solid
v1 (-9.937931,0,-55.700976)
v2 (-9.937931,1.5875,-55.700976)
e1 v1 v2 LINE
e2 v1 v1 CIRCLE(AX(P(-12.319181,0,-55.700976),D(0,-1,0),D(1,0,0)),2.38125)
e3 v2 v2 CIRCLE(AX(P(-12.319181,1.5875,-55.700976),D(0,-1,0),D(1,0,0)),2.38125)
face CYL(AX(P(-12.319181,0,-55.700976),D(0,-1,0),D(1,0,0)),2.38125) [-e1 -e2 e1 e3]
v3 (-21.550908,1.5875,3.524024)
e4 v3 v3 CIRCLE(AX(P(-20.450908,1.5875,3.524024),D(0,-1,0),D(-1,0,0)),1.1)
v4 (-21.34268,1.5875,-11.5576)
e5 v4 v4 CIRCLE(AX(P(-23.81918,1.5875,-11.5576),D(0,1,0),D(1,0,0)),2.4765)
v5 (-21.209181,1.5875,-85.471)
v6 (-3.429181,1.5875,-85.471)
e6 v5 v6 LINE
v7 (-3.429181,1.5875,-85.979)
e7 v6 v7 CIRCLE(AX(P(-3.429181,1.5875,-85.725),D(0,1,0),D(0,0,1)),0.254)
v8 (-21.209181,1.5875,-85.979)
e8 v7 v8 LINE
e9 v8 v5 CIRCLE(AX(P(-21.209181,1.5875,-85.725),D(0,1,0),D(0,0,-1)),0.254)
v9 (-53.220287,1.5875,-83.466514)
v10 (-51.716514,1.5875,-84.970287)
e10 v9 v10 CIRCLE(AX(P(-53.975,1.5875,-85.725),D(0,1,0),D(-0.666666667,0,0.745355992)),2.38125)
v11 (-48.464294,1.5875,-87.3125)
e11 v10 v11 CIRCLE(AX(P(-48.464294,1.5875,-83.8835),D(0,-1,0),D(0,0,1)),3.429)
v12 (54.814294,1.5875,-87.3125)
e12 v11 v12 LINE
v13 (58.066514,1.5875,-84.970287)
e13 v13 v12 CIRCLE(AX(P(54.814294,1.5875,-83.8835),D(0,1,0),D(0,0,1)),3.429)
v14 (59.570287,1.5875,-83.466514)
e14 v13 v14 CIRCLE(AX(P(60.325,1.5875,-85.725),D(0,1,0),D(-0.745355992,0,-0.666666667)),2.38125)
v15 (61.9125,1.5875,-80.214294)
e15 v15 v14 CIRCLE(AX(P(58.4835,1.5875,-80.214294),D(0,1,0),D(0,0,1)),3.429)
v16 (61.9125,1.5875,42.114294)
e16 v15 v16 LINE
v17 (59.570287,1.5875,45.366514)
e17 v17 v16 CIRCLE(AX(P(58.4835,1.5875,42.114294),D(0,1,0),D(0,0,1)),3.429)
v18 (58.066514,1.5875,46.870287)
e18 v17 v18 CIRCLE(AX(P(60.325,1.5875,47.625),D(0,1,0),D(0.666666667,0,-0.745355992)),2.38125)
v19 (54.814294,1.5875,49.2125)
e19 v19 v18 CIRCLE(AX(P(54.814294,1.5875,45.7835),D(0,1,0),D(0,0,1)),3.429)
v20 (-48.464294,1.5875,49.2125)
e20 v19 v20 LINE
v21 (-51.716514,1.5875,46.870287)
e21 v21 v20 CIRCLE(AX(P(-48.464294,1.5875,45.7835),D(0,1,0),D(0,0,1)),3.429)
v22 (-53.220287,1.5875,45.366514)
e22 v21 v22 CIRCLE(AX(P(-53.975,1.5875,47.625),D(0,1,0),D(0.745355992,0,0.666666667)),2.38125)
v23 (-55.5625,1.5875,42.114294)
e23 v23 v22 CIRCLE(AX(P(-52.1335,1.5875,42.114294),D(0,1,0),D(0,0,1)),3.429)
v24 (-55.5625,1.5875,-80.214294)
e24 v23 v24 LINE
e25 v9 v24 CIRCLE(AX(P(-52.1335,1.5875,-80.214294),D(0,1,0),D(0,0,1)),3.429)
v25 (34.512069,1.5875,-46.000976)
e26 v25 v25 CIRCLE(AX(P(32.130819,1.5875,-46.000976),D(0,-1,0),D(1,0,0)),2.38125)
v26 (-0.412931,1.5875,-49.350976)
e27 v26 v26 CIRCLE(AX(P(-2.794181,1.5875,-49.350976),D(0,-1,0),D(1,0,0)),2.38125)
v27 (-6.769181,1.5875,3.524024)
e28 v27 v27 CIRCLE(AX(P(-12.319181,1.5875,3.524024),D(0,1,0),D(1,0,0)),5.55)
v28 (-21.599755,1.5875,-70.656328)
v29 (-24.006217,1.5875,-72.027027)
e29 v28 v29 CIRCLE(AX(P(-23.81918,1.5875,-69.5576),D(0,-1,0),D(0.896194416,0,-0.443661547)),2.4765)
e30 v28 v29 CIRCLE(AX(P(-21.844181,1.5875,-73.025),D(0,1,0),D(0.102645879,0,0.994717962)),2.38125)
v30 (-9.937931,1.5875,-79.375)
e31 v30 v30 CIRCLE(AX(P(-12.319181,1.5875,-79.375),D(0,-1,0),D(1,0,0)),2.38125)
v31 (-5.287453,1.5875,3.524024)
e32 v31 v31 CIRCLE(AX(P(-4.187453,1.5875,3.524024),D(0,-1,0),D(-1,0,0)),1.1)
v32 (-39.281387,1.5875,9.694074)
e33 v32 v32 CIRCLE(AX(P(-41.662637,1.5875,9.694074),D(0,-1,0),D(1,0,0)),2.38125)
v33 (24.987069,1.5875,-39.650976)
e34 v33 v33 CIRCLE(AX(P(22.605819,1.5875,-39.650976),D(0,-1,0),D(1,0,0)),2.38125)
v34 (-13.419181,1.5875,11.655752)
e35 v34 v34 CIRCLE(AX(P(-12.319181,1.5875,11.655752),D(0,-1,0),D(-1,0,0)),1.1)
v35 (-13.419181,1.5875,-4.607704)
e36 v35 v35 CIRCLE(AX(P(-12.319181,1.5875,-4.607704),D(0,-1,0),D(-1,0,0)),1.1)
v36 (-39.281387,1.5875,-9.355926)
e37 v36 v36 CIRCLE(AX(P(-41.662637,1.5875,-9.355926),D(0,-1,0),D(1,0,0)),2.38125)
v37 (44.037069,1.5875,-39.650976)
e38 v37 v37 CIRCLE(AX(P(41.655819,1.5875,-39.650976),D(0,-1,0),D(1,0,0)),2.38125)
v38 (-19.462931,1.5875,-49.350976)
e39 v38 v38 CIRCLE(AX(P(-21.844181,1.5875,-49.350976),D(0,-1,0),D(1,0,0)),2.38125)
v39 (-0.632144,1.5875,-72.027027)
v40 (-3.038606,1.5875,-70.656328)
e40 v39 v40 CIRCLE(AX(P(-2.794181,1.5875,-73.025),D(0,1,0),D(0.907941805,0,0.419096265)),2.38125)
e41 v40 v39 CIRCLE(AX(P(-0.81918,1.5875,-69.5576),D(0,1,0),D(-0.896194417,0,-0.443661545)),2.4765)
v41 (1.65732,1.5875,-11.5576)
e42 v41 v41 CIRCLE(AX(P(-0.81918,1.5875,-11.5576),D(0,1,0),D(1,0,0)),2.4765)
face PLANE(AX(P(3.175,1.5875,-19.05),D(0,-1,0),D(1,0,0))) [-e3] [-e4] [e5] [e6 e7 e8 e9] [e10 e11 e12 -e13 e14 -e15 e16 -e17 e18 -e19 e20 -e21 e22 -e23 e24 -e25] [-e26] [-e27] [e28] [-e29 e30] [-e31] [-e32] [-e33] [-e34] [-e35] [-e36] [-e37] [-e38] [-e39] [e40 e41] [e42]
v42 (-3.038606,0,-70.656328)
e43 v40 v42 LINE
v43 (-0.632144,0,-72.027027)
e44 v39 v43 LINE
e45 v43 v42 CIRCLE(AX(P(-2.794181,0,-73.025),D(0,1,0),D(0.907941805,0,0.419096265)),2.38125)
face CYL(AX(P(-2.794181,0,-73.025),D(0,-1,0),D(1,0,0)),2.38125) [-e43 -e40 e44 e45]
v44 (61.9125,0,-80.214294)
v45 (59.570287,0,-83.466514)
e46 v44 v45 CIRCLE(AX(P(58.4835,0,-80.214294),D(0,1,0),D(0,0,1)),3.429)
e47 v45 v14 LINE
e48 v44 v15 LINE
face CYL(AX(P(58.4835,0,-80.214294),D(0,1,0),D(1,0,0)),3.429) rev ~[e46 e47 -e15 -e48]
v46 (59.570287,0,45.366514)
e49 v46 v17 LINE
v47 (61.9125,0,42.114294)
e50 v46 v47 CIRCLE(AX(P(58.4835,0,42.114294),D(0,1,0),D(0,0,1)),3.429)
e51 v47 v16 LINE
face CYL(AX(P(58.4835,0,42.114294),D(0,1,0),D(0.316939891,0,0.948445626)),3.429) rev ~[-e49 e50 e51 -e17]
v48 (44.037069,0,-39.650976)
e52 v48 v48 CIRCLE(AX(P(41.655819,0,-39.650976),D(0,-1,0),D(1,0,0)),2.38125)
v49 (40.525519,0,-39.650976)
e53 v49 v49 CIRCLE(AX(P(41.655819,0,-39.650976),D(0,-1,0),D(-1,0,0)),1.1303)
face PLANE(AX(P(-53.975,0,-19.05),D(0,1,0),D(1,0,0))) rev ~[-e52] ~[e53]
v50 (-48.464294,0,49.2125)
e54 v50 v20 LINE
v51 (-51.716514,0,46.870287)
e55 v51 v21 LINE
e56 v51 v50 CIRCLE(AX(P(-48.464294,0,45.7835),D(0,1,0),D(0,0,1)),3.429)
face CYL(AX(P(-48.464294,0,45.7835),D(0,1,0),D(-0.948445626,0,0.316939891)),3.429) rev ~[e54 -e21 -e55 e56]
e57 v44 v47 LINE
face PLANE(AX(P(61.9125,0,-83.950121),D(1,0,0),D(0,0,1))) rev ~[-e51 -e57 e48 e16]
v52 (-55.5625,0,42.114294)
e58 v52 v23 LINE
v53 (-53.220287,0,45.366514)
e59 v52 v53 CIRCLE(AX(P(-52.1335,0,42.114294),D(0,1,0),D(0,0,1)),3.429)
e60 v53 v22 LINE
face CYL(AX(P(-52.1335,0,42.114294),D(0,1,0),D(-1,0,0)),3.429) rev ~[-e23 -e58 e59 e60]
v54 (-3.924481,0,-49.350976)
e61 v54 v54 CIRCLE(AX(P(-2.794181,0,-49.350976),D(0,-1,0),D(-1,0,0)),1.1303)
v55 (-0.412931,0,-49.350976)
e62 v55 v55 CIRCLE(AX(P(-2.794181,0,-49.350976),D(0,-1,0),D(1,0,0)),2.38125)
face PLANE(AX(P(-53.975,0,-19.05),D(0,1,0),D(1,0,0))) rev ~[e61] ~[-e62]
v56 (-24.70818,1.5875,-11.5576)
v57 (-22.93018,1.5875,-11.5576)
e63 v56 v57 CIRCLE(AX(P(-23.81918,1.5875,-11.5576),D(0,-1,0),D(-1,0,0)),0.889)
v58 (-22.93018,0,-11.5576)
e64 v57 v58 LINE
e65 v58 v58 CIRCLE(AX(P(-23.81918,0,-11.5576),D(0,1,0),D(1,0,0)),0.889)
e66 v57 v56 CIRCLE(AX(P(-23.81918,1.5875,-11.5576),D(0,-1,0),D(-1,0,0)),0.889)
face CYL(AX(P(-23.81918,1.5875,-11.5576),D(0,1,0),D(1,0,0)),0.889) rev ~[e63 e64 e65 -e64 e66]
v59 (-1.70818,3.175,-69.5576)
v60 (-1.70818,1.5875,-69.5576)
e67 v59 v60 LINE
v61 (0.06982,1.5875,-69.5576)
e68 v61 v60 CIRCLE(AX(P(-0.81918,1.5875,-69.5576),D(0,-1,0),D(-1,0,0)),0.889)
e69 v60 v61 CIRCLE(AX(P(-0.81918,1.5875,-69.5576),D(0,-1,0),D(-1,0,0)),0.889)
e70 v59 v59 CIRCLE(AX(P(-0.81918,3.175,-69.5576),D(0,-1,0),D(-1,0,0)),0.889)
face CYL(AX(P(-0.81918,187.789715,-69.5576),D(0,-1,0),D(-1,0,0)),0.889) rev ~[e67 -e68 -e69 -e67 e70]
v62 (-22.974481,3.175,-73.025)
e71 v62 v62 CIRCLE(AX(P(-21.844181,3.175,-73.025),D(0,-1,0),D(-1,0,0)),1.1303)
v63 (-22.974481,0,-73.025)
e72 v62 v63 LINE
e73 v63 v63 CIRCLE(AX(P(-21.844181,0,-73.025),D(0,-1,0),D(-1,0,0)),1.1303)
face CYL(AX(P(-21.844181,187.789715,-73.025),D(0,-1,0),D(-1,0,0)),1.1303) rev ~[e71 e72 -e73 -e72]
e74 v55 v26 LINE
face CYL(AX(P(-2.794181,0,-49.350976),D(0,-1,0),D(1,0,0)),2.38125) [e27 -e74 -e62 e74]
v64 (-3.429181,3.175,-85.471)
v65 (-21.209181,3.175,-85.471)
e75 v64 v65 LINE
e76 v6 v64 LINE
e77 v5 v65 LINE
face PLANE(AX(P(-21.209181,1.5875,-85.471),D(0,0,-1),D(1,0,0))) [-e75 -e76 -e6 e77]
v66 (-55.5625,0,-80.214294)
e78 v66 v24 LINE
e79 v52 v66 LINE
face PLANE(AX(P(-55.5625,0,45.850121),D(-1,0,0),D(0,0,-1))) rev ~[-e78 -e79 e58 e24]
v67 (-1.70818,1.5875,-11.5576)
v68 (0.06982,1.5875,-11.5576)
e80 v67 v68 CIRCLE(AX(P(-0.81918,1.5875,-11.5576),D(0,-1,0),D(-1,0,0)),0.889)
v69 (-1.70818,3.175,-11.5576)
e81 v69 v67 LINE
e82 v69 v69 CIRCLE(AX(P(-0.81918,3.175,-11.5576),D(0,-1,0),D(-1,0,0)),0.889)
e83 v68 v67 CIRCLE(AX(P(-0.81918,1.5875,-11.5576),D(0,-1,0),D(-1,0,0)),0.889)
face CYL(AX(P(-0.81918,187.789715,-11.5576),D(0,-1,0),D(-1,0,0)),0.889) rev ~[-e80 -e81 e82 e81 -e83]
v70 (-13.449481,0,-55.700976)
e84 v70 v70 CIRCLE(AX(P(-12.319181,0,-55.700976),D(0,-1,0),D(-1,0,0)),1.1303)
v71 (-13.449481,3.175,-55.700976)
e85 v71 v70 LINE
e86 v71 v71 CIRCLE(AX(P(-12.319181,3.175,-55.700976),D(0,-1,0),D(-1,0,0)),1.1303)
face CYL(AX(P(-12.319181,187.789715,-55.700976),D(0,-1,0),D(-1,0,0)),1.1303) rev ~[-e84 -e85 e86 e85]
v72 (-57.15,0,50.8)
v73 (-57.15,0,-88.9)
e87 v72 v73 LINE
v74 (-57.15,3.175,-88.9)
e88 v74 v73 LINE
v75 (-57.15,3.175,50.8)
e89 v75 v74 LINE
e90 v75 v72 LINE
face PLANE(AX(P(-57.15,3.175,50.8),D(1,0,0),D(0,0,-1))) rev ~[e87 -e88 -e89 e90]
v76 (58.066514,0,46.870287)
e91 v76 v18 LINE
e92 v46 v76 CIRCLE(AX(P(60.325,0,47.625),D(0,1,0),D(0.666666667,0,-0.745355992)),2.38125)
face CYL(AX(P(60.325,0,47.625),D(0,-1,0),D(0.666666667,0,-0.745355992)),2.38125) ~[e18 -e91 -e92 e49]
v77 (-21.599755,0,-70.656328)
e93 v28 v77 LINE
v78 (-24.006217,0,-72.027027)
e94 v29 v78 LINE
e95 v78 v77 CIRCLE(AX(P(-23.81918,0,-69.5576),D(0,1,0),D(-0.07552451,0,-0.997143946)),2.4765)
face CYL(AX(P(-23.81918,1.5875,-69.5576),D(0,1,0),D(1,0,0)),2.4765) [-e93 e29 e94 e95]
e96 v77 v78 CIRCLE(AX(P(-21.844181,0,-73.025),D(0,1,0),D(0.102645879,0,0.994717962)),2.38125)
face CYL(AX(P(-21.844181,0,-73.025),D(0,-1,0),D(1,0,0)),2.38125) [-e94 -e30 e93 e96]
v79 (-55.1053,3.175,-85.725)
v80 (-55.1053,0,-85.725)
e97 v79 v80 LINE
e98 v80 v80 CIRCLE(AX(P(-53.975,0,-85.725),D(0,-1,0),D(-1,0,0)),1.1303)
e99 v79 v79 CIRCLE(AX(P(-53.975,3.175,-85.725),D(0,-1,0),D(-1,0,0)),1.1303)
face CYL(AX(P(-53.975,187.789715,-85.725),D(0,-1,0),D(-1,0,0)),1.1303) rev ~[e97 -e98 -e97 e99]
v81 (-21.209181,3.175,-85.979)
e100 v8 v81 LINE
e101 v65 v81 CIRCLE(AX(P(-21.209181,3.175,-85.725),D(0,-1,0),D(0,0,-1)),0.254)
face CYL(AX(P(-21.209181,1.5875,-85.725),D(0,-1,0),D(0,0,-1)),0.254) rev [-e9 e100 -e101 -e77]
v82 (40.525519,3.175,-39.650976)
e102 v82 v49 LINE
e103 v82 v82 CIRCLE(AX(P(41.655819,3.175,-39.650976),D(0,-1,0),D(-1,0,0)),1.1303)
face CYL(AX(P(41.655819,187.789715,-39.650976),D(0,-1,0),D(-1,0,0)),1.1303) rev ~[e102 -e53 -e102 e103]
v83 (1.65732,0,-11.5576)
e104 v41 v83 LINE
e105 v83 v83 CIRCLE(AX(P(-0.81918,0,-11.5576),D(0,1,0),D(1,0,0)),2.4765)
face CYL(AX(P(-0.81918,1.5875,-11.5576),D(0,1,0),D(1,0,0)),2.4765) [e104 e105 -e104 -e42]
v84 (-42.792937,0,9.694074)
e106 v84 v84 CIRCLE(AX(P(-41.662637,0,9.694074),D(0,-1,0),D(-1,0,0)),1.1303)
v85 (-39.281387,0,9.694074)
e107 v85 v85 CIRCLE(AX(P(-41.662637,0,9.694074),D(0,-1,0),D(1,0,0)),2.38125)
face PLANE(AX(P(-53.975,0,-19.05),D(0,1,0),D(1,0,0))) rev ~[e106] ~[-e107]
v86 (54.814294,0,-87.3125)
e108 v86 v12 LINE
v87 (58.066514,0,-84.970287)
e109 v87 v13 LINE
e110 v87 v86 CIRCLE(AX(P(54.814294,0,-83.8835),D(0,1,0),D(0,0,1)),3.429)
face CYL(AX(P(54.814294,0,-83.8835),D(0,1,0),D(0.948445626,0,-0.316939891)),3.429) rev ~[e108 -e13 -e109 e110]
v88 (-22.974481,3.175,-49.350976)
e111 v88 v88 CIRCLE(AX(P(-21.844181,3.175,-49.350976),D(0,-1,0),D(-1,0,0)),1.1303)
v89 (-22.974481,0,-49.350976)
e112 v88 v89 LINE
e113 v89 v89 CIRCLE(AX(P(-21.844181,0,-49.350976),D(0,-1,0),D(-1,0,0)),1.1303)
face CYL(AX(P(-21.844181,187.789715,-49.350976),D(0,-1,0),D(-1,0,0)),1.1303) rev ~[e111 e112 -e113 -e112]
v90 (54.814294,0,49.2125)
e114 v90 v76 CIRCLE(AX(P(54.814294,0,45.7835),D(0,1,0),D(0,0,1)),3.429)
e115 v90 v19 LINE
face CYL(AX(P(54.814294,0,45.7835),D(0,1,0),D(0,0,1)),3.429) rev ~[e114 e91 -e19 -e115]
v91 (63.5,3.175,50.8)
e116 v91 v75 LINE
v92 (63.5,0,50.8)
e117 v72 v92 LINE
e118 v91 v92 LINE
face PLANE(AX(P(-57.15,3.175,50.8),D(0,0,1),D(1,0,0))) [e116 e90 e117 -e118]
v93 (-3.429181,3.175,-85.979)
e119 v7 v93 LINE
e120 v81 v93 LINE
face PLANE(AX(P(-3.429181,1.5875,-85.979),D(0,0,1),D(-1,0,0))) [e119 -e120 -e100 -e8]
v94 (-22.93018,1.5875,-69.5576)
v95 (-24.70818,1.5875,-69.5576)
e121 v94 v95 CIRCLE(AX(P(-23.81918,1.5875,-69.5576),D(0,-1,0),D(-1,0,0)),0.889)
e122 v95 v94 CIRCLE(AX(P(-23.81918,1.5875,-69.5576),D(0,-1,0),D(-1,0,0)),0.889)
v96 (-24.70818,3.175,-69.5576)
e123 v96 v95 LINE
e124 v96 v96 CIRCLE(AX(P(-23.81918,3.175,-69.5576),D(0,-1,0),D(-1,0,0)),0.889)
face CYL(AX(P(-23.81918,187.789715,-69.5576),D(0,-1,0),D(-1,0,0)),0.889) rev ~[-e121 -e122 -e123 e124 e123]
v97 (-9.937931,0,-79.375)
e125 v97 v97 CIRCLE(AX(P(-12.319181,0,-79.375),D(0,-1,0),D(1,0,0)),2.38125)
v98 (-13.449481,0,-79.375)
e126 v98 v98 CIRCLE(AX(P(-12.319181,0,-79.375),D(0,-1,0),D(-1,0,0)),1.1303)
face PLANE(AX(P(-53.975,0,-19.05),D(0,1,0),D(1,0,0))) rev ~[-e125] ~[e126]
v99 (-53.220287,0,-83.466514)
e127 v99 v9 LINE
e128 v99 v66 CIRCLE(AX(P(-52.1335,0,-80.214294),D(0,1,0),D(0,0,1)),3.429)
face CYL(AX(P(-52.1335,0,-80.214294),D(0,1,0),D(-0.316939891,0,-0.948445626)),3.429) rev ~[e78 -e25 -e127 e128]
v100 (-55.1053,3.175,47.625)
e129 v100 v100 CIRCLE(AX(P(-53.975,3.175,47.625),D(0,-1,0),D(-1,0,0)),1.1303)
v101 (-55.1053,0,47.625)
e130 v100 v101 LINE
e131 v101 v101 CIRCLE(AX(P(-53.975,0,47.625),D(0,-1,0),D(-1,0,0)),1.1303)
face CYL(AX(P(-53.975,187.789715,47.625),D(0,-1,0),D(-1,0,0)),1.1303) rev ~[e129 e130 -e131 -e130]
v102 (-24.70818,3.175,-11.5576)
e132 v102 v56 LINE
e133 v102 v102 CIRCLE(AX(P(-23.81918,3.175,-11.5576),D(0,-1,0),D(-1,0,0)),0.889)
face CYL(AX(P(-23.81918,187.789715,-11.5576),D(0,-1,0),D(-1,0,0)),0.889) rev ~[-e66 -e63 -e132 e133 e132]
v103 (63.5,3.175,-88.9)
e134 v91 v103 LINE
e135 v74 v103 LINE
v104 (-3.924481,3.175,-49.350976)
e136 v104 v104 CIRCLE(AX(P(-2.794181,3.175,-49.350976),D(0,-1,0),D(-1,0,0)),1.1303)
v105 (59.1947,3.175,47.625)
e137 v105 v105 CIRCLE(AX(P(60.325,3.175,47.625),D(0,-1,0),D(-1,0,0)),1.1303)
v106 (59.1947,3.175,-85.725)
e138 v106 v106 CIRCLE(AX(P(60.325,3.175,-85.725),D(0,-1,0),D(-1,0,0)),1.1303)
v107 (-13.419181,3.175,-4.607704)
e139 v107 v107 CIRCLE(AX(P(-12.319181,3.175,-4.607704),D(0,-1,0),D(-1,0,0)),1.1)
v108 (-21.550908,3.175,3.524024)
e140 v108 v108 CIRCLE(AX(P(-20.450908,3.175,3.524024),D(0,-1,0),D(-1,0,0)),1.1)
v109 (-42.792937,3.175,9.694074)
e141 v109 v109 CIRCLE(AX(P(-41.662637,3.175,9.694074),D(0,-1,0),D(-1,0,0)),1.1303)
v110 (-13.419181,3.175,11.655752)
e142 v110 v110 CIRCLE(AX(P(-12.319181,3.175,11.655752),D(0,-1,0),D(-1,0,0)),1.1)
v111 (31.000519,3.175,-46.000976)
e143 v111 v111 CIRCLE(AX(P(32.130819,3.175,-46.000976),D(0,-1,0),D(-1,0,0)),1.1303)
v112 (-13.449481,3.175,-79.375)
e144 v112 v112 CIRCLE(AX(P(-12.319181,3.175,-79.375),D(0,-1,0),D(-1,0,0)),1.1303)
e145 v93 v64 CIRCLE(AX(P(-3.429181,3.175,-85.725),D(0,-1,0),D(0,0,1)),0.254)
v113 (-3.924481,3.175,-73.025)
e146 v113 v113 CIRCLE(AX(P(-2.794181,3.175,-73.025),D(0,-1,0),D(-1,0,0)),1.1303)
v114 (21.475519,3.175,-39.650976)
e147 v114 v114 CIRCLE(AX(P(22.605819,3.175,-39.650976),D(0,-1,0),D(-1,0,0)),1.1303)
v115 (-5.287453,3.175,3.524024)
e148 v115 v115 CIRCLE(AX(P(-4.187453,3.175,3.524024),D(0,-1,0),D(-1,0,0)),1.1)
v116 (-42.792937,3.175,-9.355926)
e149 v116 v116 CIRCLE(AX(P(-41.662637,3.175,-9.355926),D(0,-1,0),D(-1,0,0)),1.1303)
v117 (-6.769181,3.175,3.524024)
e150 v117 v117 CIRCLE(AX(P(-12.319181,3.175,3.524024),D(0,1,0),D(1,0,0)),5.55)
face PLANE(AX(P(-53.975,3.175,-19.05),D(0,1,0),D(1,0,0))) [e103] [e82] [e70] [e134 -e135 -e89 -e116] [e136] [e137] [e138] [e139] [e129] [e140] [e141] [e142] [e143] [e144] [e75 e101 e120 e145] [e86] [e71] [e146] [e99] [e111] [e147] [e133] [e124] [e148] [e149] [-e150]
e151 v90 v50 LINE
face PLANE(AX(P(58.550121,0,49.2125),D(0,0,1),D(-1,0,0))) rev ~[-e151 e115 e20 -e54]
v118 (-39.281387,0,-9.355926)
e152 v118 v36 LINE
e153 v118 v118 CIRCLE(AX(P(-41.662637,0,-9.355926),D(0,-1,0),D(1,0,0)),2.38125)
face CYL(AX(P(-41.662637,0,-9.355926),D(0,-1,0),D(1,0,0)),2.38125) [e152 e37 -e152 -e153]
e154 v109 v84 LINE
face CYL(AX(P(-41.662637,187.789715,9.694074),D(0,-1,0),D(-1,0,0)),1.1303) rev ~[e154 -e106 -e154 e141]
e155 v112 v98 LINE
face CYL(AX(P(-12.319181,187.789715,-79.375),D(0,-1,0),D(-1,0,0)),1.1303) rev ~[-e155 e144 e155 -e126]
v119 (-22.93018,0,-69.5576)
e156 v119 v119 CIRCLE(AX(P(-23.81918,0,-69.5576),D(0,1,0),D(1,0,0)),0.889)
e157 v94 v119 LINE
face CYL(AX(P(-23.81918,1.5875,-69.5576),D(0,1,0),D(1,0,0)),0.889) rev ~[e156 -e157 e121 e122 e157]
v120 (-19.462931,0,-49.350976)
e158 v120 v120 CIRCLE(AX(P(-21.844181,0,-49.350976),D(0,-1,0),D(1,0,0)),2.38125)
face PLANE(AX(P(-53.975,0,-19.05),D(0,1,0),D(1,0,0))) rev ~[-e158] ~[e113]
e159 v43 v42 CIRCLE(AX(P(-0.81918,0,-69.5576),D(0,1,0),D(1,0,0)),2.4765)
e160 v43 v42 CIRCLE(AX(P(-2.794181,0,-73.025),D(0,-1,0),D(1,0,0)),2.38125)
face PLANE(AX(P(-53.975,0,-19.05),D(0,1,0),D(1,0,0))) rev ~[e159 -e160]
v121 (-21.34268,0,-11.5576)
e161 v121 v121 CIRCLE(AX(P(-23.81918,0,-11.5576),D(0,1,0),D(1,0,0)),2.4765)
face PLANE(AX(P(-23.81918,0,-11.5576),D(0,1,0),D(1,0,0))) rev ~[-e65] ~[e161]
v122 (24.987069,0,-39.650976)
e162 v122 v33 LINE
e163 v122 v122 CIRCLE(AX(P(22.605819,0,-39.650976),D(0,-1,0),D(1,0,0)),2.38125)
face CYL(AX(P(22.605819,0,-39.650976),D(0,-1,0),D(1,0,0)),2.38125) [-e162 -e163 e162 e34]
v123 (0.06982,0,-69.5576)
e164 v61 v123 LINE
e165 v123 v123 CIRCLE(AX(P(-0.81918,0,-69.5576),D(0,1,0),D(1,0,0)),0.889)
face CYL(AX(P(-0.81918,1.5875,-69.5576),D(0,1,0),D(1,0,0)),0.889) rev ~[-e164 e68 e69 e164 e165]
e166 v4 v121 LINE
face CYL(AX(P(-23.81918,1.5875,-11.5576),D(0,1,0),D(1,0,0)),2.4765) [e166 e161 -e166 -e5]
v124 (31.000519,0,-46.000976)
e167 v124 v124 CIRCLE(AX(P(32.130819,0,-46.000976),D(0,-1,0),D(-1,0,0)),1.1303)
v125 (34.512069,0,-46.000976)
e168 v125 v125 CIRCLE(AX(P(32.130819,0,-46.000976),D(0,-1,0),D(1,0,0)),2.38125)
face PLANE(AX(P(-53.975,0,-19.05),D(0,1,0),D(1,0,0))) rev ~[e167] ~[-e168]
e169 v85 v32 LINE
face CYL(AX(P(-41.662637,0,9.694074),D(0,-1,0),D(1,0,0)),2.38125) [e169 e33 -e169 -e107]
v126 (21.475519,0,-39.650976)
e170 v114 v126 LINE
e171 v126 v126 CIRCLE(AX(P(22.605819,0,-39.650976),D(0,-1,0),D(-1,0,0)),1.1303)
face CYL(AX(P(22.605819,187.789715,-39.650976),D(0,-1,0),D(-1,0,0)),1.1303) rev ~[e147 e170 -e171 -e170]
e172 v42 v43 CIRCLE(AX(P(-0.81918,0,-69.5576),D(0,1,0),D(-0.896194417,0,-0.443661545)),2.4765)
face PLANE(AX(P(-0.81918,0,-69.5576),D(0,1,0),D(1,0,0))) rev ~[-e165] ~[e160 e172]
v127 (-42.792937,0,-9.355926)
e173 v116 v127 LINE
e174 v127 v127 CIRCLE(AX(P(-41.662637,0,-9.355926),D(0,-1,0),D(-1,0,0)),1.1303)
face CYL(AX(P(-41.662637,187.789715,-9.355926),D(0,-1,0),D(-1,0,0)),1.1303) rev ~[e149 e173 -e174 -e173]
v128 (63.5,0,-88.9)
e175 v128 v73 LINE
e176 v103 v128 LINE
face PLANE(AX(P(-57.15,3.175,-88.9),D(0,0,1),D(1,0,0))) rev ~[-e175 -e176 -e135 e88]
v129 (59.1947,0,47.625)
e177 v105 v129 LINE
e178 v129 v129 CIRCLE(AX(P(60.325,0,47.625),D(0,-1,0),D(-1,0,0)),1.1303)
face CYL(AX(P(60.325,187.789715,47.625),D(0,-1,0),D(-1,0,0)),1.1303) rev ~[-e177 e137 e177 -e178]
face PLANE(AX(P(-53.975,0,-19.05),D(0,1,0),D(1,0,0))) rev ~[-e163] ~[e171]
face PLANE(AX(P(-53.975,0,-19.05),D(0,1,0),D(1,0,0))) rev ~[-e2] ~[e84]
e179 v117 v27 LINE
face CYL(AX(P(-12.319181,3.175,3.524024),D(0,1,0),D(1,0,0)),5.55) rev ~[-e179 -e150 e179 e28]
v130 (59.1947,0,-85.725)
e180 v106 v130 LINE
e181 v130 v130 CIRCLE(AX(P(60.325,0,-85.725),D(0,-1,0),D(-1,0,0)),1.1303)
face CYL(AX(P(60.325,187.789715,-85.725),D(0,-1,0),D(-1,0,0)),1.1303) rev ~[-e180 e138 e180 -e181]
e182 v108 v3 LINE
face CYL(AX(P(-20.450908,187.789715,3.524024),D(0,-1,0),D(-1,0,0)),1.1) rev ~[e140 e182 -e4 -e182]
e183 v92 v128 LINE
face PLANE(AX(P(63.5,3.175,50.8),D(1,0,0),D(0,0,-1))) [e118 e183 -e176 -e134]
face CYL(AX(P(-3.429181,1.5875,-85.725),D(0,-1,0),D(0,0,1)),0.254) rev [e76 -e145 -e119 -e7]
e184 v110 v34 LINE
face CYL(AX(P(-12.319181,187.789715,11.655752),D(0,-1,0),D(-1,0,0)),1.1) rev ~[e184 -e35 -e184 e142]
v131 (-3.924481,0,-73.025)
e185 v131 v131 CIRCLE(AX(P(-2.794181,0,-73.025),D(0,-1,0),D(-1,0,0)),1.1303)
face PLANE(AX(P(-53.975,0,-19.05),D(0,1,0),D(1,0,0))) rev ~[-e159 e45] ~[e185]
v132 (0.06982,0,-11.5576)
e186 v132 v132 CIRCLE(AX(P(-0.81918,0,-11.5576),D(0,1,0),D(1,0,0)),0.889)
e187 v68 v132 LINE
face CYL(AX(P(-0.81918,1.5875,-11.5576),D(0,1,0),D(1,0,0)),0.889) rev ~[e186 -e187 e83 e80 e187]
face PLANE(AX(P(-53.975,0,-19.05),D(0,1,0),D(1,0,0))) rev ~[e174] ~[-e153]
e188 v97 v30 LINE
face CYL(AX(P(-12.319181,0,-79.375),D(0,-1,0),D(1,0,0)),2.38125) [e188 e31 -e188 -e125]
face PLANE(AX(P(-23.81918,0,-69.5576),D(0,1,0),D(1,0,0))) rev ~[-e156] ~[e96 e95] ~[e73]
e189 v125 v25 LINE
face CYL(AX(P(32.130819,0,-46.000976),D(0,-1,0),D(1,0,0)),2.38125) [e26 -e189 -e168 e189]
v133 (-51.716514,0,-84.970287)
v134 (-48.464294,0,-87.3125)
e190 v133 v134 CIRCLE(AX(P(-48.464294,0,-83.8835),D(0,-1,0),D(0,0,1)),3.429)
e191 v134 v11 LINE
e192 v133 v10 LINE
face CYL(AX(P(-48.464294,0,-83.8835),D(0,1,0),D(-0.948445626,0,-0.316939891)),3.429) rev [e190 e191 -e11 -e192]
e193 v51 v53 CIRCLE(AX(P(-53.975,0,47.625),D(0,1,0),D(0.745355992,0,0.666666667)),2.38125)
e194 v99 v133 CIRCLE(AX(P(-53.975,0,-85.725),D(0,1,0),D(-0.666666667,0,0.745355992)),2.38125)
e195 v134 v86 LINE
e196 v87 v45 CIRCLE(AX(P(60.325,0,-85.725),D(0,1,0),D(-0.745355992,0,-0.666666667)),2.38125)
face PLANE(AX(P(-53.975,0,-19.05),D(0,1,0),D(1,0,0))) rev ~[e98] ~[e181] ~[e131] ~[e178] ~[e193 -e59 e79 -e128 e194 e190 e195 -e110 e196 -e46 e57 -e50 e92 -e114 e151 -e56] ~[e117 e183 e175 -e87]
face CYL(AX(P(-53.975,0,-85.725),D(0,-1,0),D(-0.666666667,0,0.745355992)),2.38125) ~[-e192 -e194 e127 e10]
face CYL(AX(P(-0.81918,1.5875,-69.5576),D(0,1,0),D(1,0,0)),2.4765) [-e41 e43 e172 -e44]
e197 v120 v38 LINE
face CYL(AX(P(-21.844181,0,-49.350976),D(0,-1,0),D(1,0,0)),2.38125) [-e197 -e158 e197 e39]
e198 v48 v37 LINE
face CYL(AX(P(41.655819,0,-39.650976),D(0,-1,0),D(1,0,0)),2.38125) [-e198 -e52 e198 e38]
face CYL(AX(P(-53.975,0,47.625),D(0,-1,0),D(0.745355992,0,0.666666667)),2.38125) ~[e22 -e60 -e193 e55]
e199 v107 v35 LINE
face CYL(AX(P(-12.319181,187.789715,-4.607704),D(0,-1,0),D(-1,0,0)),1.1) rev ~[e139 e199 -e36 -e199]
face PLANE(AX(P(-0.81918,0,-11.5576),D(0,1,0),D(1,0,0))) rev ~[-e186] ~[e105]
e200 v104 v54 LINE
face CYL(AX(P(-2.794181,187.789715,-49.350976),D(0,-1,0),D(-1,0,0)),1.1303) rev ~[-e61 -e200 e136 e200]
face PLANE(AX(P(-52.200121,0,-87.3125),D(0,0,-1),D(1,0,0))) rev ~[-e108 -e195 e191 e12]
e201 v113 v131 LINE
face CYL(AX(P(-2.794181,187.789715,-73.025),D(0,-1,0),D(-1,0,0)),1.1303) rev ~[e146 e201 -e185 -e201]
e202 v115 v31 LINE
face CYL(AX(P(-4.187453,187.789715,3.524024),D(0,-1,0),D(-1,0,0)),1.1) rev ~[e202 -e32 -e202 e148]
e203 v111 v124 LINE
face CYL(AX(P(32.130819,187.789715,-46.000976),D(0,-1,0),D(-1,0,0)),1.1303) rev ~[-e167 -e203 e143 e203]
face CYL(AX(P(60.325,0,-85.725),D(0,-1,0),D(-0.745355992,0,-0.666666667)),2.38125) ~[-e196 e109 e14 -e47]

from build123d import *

# Parameters (mm, degrees)
SKETCH1_W             = 101.6
SKETCH1_H             = 101.6
BOSS_EXTRUDE1_DEPTH   = 3.175
SKETCH3_W             = 50.8
SKETCH3_H             = 101.6
BOSS_EXTRUDE2_DEPTH   = 3.175
SKETCH6_W             = 152.4
SKETCH6_H             = 38.1
BOSS_EXTRUDE4_DEPTH   = 3.175
SKETCH9_W             = 6.35
SKETCH9_H             = 139.7
BOSS_EXTRUDE5_DEPTH   = 3.175
SKETCH7_OUTSIDE_W     = 203.048
SKETCH7_OUTSIDE_H     = 183.998
SKETCH7_OUTSIDE_W_2   = 120.65
SKETCH7_OUTSIDE_H_2   = 139.7
CUT_EXTRUDE3_DEPTH    = 4.175
F_4_40_TAPPED_HOLE2_D = 2.2606
SKETCH15_R            = 2.38125
CUT_EXTRUDE5_DEPTH    = 1.5875
FILLET1_R             = 3.429
F_2_56_TAPPED_HOLE_D  = 1.778
SKETCH19_R            = 2.4765
SKETCH19_R_2          = 0.889
BOSS_EXTRUDE6_DEPTH   = 1.5875
SKETCH21_R            = 5.55
CUT_EXTRUDE7_DEPTH    = 4.175
CUT_EXTRUDE8_DEPTH    = 2.5875
M2_CLEARANCE_HOLE1_D  = 2.2


with BuildPart() as part:
    # Sketch1 → Boss-Extrude1 (new body)
    with BuildSketch(Plane(origin=(0, 0, 0), x_dir=(1, 0, 0), z_dir=(0, 1, 0))):
        Rectangle(SKETCH1_W, SKETCH1_H)
    extrude(amount=BOSS_EXTRUDE1_DEPTH)

    # Sketch3 → Boss-Extrude2 (add)
    with BuildSketch(Plane(origin=(0, 3.175, 0), x_dir=(1, 0, 0), z_dir=(0, 1, 0))):
        with Locations((76.2, 0)):
            Rectangle(SKETCH3_W, SKETCH3_H)
    extrude(amount=-BOSS_EXTRUDE2_DEPTH)

    # Sketch6 → Boss-Extrude4 (add)
    with BuildSketch(Plane(origin=(0, 3.175, 0), x_dir=(1, 0, 0), z_dir=(0, 1, 0))):
        with Locations((25.4, 69.85)):
            Rectangle(SKETCH6_W, SKETCH6_H)
    extrude(amount=-BOSS_EXTRUDE4_DEPTH)

    # Sketch9 → Boss-Extrude5 (add)
    with BuildSketch(Plane(origin=(0, 3.175, 0), x_dir=(1, 0, 0), z_dir=(0, 1, 0))):
        with Locations((-53.975, 19.05)):
            Rectangle(SKETCH9_W, SKETCH9_H)
    extrude(amount=-BOSS_EXTRUDE5_DEPTH)

    # Sketch7 outside → Cut-Extrude3 (cut, through all)
    with BuildSketch(Plane(origin=(0, 3.175, 0), x_dir=(1, 0, 0), z_dir=(0, 1, 0))):
        with Locations((22.225, 19.05)):
            Rectangle(SKETCH7_OUTSIDE_W, SKETCH7_OUTSIDE_H)
        with Locations((3.175, 19.05)):
            Rectangle(SKETCH7_OUTSIDE_W_2, SKETCH7_OUTSIDE_H_2, mode=Mode.SUBTRACT)
    extrude(amount=-CUT_EXTRUDE3_DEPTH, mode=Mode.SUBTRACT)

    # #4-40 Tapped Hole2 (through all)
    with Locations(Plane(origin=(0, 3.175, 0), x_dir=(1, 0, 0), z_dir=(0, 1, 0))):
        with Locations((32.130819486, 46.000976371), (-2.794180514, 49.350976371), (-12.319180514, 55.700976371), (-21.844180514, 49.350976371), (22.605819486, 39.650976371), (41.655819486, 39.650976371), (-41.662637498, 9.355925684), (-41.662637498, -9.694074316), (-2.794180514, 73.025), (-12.319180514, 79.375), (-21.844180514, 73.025), (60.325, -47.625), (-53.975, -47.625), (60.325, 85.725), (-53.975, 85.725)):
            Hole(F_4_40_TAPPED_HOLE2_D / 2)

    # Sketch15 → Cut-Extrude5 (cut)
    with BuildSketch(Plane.XZ):
        with BuildLine():
            Line((-52.200121043, -87.3125), (58.550121043, -87.3125))
            ThreePointArc((58.550121043, -87.3125), (58.641201977, -84.041201977), (61.9125, -83.950121043))
            Line((61.9125, -83.950121043), (61.9125, 45.850121043))
            ThreePointArc((61.9125, 45.850121043), (58.641201977, 45.941201977), (58.550121043, 49.2125))
            Line((58.550121043, 49.2125), (-52.200121043, 49.2125))
            ThreePointArc((-52.200121043, 49.2125), (-52.291201977, 45.941201977), (-55.5625, 45.850121043))
            Line((-55.5625, 45.850121043), (-55.5625, -83.950121043))
            ThreePointArc((-55.5625, -83.950121043), (-52.291201977, -84.041201977), (-52.200121043, -87.3125))
        make_face()
        with Locations((32.130819486, -46.000976371)):
            Circle(SKETCH15_R, mode=Mode.SUBTRACT)
        with Locations((-2.794180514, -49.350976371)):
            Circle(SKETCH15_R, mode=Mode.SUBTRACT)
        with Locations((-12.319180514, -55.700976371)):
            Circle(SKETCH15_R, mode=Mode.SUBTRACT)
        with Locations((-21.844180514, -49.350976371)):
            Circle(SKETCH15_R, mode=Mode.SUBTRACT)
        with Locations((41.655819486, -39.650976371)):
            Circle(SKETCH15_R, mode=Mode.SUBTRACT)
        with Locations((22.605819486, -39.650976371)):
            Circle(SKETCH15_R, mode=Mode.SUBTRACT)
        with Locations((-41.662637498, 9.694074316)):
            Circle(SKETCH15_R, mode=Mode.SUBTRACT)
        with Locations((-41.662637498, -9.355925684)):
            Circle(SKETCH15_R, mode=Mode.SUBTRACT)
        with Locations((-2.794180514, -73.025)):
            Circle(SKETCH15_R, mode=Mode.SUBTRACT)
        with Locations((-12.319180514, -79.375)):
            Circle(SKETCH15_R, mode=Mode.SUBTRACT)
        with Locations((-21.844180514, -73.025)):
            Circle(SKETCH15_R, mode=Mode.SUBTRACT)
    extrude(amount=-CUT_EXTRUDE5_DEPTH, mode=Mode.SUBTRACT)

    # Fillet1
    fillet1_edges = [part.edges().sort_by_distance(p)[0] for p in [
        (-52.200121043, 0.79375, -87.3125),
        (-55.5625, 0.79375, -83.950121043),
        (-55.5625, 0.79375, 45.850121043),
        (-52.200121043, 0.79375, 49.2125),
        (58.550121043, 0.79375, 49.2125),
        (61.9125, 0.79375, 45.850121043),
        (61.9125, 0.79375, -83.950121043),
        (58.550121043, 0.79375, -87.3125),
    ]]
    fillet(fillet1_edges, radius=FILLET1_R)

    # #2-56 Tapped Hole (through all)
    with Locations(Plane(origin=(0, 3.175, 0), x_dir=(1, 0, 0), z_dir=(0, 1, 0))):
        with Locations((-0.819180486, 11.557600033), (-23.819180486, 11.557600033), (-0.819180486, 69.557600033), (-23.819180486, 69.557600033)):
            Hole(F_2_56_TAPPED_HOLE_D / 2)

    # Sketch19 → Boss-Extrude6 (add)
    with BuildSketch(Plane(origin=(0, 1.5875, 0), x_dir=(1, 0, 0), z_dir=(0, 1, 0))):
        with Locations((-23.819180486, 69.557600033)):
            Circle(SKETCH19_R)
        with Locations((-23.819180486, 69.557600033)):
            Circle(SKETCH19_R_2, mode=Mode.SUBTRACT)
        with Locations((-0.819180486, 69.557600033)):
            Circle(SKETCH19_R)
        with Locations((-0.819180486, 69.557600033)):
            Circle(SKETCH19_R_2, mode=Mode.SUBTRACT)
        with Locations((-23.819180486, 11.557600033)):
            Circle(SKETCH19_R)
        with Locations((-23.819180486, 11.557600033)):
            Circle(SKETCH19_R_2, mode=Mode.SUBTRACT)
        with Locations((-0.819180486, 11.557600033)):
            Circle(SKETCH19_R)
        with Locations((-0.819180486, 11.557600033)):
            Circle(SKETCH19_R_2, mode=Mode.SUBTRACT)
    extrude(amount=-BOSS_EXTRUDE6_DEPTH)

    # Sketch21 → Cut-Extrude7 (cut, through all)
    with BuildSketch(Plane(origin=(0, 3.175, 0), x_dir=(1, 0, 0), z_dir=(0, 1, 0))):
        with Locations((-12.319180514, -3.524023629)):
            Circle(SKETCH21_R)
    extrude(amount=-CUT_EXTRUDE7_DEPTH, mode=Mode.SUBTRACT)

    # Sketch22 → Cut-Extrude8 (cut, through all)
    with BuildSketch(Plane.XZ.offset(-1.5875)):
        with BuildLine():
            Line((-21.209180514, -85.471), (-3.429180514, -85.471))
            ThreePointArc((-3.429180514, -85.471), (-3.175180514, -85.725), (-3.429180514, -85.979))
            Line((-3.429180514, -85.979), (-21.209180514, -85.979))
            ThreePointArc((-21.209180514, -85.979), (-21.463180514, -85.725), (-21.209180514, -85.471))
        make_face()
    extrude(amount=-CUT_EXTRUDE8_DEPTH, mode=Mode.SUBTRACT)

    # M2 Clearance Hole1 (through all)
    with Locations(Plane(origin=(0, 3.175, 0), x_dir=(1, 0, 0), z_dir=(0, 1, 0))):
        with Locations((-20.450908498, -3.524023629), (-12.319180514, -11.655751612), (-4.187452531, -3.524023629), (-12.319180514, 4.607704355)):
            Hole(M2_CLEARANCE_HOLE1_D / 2)


solid = part.part
